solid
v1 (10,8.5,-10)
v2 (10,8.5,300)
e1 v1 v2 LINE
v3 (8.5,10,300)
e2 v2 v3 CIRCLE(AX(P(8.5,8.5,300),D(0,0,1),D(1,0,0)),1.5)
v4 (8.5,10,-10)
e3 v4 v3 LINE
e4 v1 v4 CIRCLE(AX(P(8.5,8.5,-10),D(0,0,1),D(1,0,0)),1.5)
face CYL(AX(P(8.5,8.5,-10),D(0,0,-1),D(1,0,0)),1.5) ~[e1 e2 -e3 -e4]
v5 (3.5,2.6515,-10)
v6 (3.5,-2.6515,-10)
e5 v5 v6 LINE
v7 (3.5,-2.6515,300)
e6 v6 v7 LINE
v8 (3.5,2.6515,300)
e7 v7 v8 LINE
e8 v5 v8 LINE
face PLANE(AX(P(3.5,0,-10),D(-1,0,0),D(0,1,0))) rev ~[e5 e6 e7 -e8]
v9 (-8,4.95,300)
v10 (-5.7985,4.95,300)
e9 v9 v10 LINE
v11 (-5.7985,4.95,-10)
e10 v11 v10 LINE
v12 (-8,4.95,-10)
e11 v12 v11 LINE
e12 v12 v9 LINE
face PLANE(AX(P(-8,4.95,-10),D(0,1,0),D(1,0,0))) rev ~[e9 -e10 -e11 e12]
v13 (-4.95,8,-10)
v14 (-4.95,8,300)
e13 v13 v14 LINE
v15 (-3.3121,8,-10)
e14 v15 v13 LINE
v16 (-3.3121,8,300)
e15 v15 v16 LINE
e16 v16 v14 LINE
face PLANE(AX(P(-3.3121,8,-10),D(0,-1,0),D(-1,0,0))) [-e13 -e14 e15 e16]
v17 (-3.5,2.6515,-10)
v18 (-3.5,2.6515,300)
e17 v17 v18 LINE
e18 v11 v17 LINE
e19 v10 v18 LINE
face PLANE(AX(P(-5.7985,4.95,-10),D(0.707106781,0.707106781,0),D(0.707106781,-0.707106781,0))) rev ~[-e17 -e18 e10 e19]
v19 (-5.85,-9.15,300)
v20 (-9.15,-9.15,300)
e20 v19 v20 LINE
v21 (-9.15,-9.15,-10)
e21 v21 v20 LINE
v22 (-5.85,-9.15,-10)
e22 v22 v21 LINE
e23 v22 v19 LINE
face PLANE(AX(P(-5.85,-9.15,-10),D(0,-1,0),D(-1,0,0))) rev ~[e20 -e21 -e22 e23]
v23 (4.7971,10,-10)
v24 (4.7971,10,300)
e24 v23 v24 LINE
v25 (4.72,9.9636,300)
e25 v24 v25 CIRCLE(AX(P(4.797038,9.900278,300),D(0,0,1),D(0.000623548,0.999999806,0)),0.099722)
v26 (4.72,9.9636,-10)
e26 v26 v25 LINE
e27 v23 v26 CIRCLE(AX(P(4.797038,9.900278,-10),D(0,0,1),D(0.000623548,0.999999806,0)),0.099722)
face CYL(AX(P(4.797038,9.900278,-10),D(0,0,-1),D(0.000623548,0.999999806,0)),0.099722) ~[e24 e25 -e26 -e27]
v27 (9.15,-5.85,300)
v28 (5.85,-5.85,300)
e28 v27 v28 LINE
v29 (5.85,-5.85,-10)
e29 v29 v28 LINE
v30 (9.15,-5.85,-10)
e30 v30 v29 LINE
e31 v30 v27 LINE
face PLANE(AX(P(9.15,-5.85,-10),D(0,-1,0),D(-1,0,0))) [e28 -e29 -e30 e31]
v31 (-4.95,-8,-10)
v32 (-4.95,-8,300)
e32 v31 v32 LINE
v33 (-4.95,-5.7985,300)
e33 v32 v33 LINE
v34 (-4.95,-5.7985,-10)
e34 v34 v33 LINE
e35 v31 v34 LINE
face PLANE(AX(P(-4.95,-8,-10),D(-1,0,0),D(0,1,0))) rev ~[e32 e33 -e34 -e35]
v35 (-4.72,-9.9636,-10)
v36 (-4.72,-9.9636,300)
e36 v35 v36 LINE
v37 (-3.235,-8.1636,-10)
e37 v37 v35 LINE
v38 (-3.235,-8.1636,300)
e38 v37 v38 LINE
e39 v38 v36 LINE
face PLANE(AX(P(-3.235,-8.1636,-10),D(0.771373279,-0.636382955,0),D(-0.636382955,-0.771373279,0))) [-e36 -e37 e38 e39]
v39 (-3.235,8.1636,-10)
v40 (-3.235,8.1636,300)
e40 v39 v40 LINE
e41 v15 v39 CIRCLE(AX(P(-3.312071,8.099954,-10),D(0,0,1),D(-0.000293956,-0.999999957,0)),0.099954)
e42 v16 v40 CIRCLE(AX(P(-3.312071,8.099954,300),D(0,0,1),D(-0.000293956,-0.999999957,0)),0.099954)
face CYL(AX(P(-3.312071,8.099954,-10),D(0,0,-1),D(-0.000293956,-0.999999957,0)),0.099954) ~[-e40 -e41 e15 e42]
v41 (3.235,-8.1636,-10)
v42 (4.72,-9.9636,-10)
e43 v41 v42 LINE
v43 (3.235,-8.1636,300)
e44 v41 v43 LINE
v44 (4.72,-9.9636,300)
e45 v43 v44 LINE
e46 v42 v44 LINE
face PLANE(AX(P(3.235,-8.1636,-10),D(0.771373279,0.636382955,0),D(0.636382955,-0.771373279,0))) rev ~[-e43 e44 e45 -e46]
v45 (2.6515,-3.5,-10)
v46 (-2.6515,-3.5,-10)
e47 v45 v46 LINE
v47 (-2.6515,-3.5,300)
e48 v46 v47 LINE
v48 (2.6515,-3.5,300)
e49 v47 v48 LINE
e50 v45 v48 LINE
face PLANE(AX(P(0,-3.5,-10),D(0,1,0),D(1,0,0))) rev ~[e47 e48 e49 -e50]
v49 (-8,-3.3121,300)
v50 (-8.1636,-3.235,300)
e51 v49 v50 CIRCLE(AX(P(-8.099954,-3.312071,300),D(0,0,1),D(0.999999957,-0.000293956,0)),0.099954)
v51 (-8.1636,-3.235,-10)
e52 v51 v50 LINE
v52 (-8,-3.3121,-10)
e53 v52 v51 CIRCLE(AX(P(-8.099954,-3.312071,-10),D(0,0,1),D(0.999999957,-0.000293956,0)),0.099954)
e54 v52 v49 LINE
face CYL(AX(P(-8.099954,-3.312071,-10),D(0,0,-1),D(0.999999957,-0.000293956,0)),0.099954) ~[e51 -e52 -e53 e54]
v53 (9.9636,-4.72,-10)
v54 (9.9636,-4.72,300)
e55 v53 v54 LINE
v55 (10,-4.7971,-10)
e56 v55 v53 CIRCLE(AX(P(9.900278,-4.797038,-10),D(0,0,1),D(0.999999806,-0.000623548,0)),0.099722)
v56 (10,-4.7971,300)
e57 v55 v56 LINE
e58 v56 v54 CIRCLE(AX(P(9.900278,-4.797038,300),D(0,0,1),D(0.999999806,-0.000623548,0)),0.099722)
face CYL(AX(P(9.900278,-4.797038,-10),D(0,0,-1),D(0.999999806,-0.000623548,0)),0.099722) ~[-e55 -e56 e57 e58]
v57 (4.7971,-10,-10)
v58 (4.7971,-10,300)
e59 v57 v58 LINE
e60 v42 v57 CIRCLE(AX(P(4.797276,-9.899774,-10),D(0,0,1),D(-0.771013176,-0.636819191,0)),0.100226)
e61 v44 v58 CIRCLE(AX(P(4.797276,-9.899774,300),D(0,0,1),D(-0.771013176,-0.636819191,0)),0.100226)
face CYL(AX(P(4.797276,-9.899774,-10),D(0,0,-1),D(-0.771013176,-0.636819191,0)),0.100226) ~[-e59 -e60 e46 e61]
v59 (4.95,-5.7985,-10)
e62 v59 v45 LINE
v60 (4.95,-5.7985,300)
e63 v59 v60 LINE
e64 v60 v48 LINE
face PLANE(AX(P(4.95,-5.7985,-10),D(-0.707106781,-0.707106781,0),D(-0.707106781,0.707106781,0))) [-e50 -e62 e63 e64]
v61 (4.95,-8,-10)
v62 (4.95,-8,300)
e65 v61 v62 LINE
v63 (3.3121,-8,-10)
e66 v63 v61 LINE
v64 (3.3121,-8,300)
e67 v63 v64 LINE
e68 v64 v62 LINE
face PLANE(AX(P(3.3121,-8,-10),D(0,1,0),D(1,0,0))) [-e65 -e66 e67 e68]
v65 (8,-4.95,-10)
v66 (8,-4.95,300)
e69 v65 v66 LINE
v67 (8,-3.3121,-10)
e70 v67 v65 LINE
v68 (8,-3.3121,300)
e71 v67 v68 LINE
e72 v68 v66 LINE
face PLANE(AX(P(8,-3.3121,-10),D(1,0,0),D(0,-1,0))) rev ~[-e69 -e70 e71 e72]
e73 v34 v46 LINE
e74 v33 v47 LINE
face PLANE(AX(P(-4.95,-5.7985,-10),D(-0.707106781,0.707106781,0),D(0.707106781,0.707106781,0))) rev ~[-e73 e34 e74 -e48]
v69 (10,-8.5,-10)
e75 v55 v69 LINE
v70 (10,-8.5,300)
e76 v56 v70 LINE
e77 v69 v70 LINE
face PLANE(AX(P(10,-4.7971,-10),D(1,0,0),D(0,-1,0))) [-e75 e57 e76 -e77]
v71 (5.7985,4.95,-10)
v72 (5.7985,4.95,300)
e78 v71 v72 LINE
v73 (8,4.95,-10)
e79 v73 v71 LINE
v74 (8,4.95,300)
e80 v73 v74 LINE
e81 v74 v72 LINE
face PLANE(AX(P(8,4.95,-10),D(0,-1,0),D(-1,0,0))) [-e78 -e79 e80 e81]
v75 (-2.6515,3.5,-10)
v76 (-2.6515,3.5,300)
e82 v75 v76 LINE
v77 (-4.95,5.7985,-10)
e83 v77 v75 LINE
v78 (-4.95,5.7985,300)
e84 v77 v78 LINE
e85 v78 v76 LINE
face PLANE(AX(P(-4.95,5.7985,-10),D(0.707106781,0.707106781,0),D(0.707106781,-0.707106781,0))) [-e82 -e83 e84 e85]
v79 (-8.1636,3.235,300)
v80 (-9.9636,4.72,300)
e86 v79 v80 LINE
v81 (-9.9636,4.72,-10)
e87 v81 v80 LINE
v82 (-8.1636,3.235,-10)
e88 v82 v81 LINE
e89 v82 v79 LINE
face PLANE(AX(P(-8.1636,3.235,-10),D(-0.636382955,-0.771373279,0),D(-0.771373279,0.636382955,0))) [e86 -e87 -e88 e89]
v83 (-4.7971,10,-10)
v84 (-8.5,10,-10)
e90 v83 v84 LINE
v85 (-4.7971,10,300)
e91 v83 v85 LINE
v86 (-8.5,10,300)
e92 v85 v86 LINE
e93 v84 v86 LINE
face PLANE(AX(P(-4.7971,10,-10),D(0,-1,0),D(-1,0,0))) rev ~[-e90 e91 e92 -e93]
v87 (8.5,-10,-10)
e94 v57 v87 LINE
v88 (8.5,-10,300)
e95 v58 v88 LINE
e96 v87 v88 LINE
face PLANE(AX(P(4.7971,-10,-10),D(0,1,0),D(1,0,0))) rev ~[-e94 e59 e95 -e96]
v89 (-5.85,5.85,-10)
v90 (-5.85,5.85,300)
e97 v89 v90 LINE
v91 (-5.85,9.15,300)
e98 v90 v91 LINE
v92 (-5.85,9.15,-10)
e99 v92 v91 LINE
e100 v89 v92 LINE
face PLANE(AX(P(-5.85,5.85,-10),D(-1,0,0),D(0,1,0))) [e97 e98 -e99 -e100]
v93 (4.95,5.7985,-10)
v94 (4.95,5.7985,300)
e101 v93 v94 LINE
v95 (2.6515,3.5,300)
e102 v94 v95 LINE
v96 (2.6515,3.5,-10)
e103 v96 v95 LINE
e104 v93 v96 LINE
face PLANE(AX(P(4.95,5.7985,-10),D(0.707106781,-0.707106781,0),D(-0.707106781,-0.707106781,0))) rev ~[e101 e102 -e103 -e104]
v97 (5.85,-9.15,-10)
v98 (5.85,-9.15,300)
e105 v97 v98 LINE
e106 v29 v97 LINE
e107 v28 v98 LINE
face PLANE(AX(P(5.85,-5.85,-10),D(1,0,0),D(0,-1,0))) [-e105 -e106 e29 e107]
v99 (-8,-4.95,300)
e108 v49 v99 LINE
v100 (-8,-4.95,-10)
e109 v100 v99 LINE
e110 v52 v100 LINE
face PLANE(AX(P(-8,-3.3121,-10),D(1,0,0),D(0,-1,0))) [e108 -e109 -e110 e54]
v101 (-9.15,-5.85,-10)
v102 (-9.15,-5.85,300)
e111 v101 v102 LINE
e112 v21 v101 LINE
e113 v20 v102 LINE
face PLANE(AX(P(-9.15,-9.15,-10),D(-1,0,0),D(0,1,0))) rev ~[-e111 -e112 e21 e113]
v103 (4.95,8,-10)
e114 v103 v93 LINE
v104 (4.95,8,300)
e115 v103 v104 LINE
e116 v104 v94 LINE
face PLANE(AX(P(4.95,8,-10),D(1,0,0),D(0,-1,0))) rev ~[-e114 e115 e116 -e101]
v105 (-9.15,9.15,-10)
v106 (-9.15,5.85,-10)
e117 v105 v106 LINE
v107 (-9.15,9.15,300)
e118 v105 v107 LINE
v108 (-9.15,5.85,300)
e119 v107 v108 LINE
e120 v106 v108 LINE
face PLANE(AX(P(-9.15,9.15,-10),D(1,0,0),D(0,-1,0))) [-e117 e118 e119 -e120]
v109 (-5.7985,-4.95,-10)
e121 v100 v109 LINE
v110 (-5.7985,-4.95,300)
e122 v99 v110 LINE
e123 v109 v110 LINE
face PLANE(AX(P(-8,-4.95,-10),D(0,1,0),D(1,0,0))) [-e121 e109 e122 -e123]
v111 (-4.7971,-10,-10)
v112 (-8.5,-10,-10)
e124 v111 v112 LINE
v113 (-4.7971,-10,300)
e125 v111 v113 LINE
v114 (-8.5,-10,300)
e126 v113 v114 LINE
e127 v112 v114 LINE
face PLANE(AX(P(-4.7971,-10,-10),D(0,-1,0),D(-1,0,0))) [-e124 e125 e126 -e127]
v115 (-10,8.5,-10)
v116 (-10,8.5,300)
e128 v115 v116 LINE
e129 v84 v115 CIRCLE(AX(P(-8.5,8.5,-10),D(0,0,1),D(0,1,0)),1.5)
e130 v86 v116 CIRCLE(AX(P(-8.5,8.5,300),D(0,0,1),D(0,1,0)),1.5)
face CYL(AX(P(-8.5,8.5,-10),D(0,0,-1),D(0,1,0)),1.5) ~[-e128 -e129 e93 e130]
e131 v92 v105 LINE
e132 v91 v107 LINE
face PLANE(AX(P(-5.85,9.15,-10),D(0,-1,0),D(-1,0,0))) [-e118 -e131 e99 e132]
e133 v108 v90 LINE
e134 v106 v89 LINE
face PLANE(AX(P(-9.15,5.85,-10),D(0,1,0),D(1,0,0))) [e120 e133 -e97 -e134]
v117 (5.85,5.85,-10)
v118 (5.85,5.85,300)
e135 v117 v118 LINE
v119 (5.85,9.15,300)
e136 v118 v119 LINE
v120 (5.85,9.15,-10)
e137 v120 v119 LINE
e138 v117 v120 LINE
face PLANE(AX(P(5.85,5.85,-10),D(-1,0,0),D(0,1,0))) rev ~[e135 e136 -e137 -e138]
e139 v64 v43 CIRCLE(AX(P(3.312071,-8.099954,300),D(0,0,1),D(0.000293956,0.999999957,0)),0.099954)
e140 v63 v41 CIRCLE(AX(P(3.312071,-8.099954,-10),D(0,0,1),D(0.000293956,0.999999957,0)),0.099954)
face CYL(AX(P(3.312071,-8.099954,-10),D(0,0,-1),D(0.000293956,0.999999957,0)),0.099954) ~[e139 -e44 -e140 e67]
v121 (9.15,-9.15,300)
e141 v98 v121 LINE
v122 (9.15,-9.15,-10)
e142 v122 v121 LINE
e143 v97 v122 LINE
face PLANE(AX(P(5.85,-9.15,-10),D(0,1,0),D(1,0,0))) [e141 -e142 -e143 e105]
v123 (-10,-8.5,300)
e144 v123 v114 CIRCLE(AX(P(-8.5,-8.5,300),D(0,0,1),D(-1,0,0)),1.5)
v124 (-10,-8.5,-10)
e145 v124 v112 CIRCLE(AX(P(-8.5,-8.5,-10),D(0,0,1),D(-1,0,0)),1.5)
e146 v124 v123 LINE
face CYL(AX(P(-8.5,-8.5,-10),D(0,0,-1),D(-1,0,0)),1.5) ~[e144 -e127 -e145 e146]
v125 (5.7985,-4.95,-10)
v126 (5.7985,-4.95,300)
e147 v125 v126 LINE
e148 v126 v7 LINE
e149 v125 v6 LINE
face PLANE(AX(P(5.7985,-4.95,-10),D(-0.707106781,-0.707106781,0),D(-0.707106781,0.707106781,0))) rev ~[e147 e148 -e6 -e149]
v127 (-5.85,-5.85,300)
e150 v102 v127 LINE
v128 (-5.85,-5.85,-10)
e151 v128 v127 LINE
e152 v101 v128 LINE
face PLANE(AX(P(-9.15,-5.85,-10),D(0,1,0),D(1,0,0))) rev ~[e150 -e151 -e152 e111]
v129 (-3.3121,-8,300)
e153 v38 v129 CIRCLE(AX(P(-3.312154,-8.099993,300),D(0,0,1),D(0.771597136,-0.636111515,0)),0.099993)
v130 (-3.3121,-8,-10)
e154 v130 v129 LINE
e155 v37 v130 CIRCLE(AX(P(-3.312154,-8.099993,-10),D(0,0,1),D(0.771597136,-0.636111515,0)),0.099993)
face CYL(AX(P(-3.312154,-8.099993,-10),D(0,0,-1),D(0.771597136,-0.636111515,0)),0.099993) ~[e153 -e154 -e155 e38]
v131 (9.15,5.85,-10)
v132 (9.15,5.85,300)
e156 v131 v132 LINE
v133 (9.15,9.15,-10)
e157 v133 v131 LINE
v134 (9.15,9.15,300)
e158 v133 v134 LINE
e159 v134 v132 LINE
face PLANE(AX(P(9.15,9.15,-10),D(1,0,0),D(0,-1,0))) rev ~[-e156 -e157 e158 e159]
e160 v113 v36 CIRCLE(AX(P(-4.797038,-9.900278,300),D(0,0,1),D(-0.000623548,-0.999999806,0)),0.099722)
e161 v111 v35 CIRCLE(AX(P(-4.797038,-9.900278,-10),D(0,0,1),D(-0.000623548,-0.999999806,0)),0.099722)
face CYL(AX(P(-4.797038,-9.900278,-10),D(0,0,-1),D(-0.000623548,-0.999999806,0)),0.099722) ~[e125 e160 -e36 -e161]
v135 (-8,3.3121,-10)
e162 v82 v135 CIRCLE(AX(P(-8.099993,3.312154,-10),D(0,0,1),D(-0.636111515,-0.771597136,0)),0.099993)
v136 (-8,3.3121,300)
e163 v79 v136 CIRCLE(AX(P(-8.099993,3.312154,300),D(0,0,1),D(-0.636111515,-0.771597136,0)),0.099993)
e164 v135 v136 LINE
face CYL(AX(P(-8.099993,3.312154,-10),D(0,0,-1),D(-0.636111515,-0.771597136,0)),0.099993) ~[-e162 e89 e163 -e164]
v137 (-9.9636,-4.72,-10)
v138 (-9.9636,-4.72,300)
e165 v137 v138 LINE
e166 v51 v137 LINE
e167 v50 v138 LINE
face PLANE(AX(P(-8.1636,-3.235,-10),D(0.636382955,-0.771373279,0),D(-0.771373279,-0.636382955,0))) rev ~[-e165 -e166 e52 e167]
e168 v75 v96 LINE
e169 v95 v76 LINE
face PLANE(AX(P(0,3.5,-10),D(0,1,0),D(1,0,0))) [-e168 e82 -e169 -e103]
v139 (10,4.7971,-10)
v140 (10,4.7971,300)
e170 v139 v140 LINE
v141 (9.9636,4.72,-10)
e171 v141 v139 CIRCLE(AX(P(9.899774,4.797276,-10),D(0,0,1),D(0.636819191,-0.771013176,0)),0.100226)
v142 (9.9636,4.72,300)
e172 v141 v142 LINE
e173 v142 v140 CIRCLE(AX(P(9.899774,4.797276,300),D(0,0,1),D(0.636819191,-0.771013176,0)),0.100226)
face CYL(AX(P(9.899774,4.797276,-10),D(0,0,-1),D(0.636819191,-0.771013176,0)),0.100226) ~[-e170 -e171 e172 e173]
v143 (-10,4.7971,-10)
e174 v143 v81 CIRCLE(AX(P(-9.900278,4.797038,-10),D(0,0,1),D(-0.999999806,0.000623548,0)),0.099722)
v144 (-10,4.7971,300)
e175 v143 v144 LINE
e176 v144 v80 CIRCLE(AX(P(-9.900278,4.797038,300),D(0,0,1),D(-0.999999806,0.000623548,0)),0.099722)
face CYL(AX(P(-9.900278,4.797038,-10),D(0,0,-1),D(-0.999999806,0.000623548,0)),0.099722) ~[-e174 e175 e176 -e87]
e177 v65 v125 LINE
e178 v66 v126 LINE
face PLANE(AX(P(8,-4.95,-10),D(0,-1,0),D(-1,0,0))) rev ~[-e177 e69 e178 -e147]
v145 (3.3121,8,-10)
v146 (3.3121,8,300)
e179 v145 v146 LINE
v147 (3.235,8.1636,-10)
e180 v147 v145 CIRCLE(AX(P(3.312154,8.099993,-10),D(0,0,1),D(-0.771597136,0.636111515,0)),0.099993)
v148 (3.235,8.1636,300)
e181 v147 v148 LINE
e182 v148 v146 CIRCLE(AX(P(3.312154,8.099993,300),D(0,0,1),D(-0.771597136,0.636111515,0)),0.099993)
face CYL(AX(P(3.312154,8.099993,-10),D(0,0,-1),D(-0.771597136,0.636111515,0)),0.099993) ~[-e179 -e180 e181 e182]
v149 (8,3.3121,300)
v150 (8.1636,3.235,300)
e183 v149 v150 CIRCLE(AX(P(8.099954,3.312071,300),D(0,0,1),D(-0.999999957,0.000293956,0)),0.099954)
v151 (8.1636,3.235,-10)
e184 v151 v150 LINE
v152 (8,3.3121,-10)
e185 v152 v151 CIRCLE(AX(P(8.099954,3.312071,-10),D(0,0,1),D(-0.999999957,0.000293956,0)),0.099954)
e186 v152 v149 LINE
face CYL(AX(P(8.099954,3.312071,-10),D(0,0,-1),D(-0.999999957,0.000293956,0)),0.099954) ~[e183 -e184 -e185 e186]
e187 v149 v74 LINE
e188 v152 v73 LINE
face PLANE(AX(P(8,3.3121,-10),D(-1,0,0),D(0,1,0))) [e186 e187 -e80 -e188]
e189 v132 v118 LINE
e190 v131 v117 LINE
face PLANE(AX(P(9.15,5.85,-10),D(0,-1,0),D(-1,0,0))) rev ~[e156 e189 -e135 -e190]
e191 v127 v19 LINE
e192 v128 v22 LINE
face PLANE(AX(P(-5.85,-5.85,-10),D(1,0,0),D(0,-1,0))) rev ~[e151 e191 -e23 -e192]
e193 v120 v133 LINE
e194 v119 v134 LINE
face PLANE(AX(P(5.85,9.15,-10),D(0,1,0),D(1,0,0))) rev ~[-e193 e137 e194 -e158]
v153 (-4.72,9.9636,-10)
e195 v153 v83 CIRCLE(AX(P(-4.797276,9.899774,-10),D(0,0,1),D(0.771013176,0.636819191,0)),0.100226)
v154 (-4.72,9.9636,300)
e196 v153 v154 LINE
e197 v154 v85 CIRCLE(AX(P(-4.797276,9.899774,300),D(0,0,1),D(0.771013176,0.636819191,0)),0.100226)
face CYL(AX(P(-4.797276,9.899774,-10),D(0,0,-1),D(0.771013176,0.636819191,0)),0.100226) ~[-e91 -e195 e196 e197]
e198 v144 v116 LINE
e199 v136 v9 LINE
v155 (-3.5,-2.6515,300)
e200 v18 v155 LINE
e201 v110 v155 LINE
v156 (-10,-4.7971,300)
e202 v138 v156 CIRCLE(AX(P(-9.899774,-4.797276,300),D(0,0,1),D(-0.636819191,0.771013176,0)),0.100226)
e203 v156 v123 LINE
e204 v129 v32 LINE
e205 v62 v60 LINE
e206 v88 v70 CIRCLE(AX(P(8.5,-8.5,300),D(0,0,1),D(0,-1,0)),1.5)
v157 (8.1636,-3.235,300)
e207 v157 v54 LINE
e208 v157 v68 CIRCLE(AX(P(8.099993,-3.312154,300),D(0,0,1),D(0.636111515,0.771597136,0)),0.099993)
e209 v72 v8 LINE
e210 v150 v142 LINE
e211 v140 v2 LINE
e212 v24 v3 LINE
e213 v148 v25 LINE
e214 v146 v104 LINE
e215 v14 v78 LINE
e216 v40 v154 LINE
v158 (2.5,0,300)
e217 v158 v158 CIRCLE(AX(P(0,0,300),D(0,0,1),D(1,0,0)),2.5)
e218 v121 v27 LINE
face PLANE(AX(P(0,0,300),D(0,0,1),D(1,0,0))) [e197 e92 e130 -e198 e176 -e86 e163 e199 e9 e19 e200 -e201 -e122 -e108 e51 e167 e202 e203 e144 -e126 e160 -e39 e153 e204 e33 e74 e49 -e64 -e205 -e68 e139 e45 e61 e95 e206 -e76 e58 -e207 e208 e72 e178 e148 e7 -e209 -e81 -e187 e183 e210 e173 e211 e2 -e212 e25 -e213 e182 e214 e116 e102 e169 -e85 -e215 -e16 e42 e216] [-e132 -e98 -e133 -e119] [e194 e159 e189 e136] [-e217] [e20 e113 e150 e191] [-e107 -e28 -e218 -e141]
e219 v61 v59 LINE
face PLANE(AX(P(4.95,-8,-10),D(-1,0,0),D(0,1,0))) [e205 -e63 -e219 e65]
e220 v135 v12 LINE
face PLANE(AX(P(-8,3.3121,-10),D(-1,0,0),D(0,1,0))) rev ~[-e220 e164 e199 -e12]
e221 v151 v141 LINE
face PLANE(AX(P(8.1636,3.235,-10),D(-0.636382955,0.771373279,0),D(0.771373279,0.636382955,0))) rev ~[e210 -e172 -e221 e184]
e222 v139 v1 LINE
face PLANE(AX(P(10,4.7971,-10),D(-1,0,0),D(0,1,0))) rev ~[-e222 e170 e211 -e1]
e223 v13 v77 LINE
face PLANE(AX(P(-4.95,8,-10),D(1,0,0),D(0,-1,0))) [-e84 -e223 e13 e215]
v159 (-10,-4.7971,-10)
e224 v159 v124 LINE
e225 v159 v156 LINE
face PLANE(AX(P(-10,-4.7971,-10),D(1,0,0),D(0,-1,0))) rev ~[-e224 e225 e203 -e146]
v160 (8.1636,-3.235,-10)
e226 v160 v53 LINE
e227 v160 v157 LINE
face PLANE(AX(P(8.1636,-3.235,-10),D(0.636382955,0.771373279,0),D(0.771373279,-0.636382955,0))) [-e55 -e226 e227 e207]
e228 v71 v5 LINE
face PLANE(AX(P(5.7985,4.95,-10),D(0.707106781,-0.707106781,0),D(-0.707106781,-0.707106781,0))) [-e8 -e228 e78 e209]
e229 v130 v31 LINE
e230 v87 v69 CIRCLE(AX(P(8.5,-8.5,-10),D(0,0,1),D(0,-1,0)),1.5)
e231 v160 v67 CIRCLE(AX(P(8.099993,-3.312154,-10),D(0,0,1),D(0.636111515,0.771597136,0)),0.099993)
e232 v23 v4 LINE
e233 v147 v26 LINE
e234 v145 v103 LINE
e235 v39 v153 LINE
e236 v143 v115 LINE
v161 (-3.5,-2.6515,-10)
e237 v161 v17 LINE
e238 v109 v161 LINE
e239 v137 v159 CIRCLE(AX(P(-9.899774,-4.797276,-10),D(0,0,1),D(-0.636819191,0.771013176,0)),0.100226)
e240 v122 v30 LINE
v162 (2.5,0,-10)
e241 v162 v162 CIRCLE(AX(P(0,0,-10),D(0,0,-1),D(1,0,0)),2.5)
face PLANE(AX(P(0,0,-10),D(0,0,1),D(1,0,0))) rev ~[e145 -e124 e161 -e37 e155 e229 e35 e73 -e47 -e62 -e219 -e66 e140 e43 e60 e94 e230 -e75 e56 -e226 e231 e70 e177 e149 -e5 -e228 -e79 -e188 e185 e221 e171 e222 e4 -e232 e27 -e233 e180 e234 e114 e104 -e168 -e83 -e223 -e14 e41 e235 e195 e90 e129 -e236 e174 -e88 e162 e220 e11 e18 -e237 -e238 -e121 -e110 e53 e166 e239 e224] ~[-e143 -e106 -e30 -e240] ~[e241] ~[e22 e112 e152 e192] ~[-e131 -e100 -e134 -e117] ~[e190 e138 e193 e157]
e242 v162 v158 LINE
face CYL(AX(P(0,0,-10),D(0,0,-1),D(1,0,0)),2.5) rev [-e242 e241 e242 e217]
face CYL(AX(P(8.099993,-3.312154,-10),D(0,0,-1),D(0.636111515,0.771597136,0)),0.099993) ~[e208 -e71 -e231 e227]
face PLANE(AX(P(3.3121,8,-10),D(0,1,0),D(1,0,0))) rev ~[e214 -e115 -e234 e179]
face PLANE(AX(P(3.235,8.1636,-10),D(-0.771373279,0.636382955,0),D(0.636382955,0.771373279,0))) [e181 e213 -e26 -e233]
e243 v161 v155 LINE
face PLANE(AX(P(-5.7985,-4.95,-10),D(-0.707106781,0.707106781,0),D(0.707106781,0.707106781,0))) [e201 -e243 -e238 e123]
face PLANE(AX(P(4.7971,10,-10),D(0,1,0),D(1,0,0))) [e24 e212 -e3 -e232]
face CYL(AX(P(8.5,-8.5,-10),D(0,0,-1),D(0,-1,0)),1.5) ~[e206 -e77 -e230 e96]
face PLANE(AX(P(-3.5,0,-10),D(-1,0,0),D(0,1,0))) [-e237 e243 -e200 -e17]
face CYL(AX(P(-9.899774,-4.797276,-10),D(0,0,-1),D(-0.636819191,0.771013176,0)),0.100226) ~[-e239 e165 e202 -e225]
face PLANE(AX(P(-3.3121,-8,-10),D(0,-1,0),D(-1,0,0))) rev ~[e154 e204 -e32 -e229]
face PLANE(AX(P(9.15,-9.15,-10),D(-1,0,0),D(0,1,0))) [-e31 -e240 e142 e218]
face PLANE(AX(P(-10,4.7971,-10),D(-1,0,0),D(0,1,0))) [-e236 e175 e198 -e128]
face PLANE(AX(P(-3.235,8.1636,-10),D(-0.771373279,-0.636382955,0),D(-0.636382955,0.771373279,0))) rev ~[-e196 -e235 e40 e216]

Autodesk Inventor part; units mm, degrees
ref_plane "Начальная плоскость" through (0, 0, -10) normal (0, 0, 1) x (1, 0, 0)
ref_plane "Конечная плоскость" through (0, 0, 300) normal (0, 0, 1) x (1, 0, 0)
sketch "Эскиз" plane through (0, 0, 0) normal (0, 0, 1) x (1, 0, 0)
  line L0 (-14.4349, 0) -> (14.4349, 0) projected
  line L1 (0, -14) -> (0, 14) projected
  line L2 (0, 0) -> (7.5, 7.5) construction
  circle A0 centre (7.5, 7.5) radius 1.65 construction
  line L3 (5.85, 9.15) -> (9.15, 9.15)
  line L4 (9.15, 9.15) -> (9.15, 5.85)
  line L5 (9.15, 5.85) -> (5.85, 5.85)
  line L6 (5.85, 5.85) -> (5.85, 9.15)
  line L7 (3.235, 8.1636) -> (4.72, 9.9636)
  line L8 (4.7971, 10) -> (8.5, 10)
  line L9 (3.3121, 8) -> (4.95, 8)
  line L10 (4.95, 8) -> (4.95, 5.7985)
  line L11 (4.95, 5.7985) -> (2.6515, 3.5)
  line L12 (0, 3.5) -> (2.6515, 3.5)
  circle A1 centre (0, 0) radius 2.5
  line L13 (8.1636, 3.235) -> (9.9636, 4.72)
  line L14 (10, 4.7971) -> (10, 8.5)
  line L15 (8, 3.3121) -> (8, 4.95)
  line L16 (8, 4.95) -> (5.7985, 4.95)
  line L17 (5.7985, 4.95) -> (3.5, 2.6515)
  line L18 (3.5, 0) -> (3.5, 2.6515)
  arc A2 (10, 8.5) -> (8.5, 10) centre (8.5, 8.5) ccw
  line L19 (0, 0) -> (-7.5, 7.5) construction
  circle A3 centre (-7.5, 7.5) radius 1.65 construction
  line L20 (-5.85, 9.15) -> (-9.15, 9.15)
  line L21 (-9.15, 9.15) -> (-9.15, 5.85)
  line L22 (-9.15, 5.85) -> (-5.85, 5.85)
  line L23 (-5.85, 5.85) -> (-5.85, 9.15)
  line L24 (-3.235, 8.1636) -> (-4.72, 9.9636)
  line L25 (-4.7971, 10) -> (-8.5, 10)
  line L26 (-3.3121, 8) -> (-4.95, 8)
  line L27 (-4.95, 8) -> (-4.95, 5.7985)
  line L28 (-4.95, 5.7985) -> (-2.6515, 3.5)
  line L29 (0, 3.5) -> (-2.6515, 3.5)
  line L30 (-3.5, 0) -> (-3.5, 2.6515)
  line L31 (-5.7985, 4.95) -> (-3.5, 2.6515)
  line L32 (-8, 4.95) -> (-5.7985, 4.95)
  line L33 (-8, 3.3121) -> (-8, 4.95)
  line L34 (-8.1636, 3.235) -> (-9.9636, 4.72)
  line L35 (-10, 4.7971) -> (-10, 8.5)
  arc A4 (-8.5, 10) -> (-10, 8.5) centre (-8.5, 8.5) ccw
  line L36 (0, 14) -> (0, -14)
  line L37 (0, 0) -> (7.5, -7.5) construction
  circle A5 centre (7.5, -7.5) radius 1.65 construction
  line L38 (5.85, -9.15) -> (9.15, -9.15)
  line L39 (9.15, -9.15) -> (9.15, -5.85)
  line L40 (9.15, -5.85) -> (5.85, -5.85)
  line L41 (5.85, -5.85) -> (5.85, -9.15)
  line L42 (3.235, -8.1636) -> (4.72, -9.9636)
  line L43 (4.7971, -10) -> (8.5, -10)
  line L44 (3.3121, -8) -> (4.95, -8)
  line L45 (4.95, -8) -> (4.95, -5.7985)
  line L46 (4.95, -5.7985) -> (2.6515, -3.5)
  line L47 (0, -3.5) -> (2.6515, -3.5)
  line L48 (3.5, 0) -> (3.5, -2.6515)
  line L49 (5.7985, -4.95) -> (3.5, -2.6515)
  line L50 (8, -4.95) -> (5.7985, -4.95)
  line L51 (8, -3.3121) -> (8, -4.95)
  line L52 (8.1636, -3.235) -> (9.9636, -4.72)
  line L53 (10, -4.7971) -> (10, -8.5)
  arc A6 (8.5, -10) -> (10, -8.5) centre (8.5, -8.5) ccw
  line L54 (0, 0) -> (-7.5, -7.5) construction
  line L55 (-4.95, -8) -> (-4.95, -5.7985)
  line L56 (-3.3121, -8) -> (-4.95, -8)
  line L57 (-5.7985, -4.95) -> (-3.5, -2.6515)
  line L58 (-4.95, -5.7985) -> (-2.6515, -3.5)
  line L59 (-3.5, 0) -> (-3.5, -2.6515)
  line L60 (0, -3.5) -> (-2.6515, -3.5)
  circle A7 centre (-7.5, -7.5) radius 1.65 construction
  line L61 (-5.85, -5.85) -> (-5.85, -9.15)
  line L62 (-5.85, -9.15) -> (-9.15, -9.15)
  line L63 (-9.15, -9.15) -> (-9.15, -5.85)
  line L64 (-9.15, -5.85) -> (-5.85, -5.85)
  line L65 (-3.235, -8.1636) -> (-4.72, -9.9636)
  line L66 (-8, -4.95) -> (-5.7985, -4.95)
  line L67 (-8, -3.3121) -> (-8, -4.95)
  line L68 (-8.1636, -3.235) -> (-9.9636, -4.72)
  line L69 (-4.7971, -10) -> (-8.5, -10)
  line L70 (-10, -4.7971) -> (-10, -8.5)
  arc A8 (-10, -8.5) -> (-8.5, -10) centre (-8.5, -8.5) ccw
  arc A9 (3.235, 8.1636) -> (3.3121, 8) centre (3.3121, 8.1) ccw
  arc A10 (4.7971, 10) -> (4.72, 9.9636) centre (4.7971, 9.9) ccw
  arc A11 (8, 3.3121) -> (8.1636, 3.235) centre (8.1, 3.3121) ccw
  arc A12 (9.9636, 4.72) -> (10, 4.7971) centre (9.9, 4.7971) ccw
  arc A13 (-3.3121, 8) -> (-3.235, 8.1636) centre (-3.3121, 8.1) ccw
  arc A14 (-4.72, 9.9636) -> (-4.7971, 10) centre (-4.7971, 9.9) ccw
  arc A15 (-8.1636, 3.235) -> (-8, 3.3121) centre (-8.1, 3.3121) ccw
  arc A16 (-10, 4.7971) -> (-9.9636, 4.72) centre (-9.9, 4.7971) ccw
  arc A17 (-8, -3.3121) -> (-8.1636, -3.235) centre (-8.1, -3.3121) ccw
  arc A18 (-9.9636, -4.72) -> (-10, -4.7971) centre (-9.9, -4.7971) ccw
  arc A19 (-3.235, -8.1636) -> (-3.3121, -8) centre (-3.3121, -8.1) ccw
  arc A20 (-4.7971, -10) -> (-4.72, -9.9636) centre (-4.7971, -9.9) ccw
  arc A21 (4.72, -9.9636) -> (4.7971, -10) centre (4.7971, -9.9) ccw
  arc A22 (3.3121, -8) -> (3.235, -8.1636) centre (3.3121, -8.1) ccw
  arc A23 (8.1636, -3.235) -> (8, -3.3121) centre (8.1, -3.3121) ccw
  arc A24 (10, -4.7971) -> (9.9636, -4.72) centre (9.9, -4.7971) ccw
  point P0 (3.1, 8)
  point P1 (4.75, 10)
  point P2 (7.5, 9.15)
  point P3 (8, 3.1)
  point P4 (10, 4.75)
  point P5 (7.5, 5.85)
  point P6 (9.15, 7.5)
  point P7 (-3.1, 8)
  point P8 (-4.75, 10)
  point P9 (-7.5, 9.15)
  point P10 (-8, 3.1)
  point P11 (-10, 4.75)
  point P12 (-7.5, 5.85)
  point P13 (-9.15, 7.5)
  point P14 (3.1, -8)
  point P15 (4.75, -10)
  point P16 (7.5, -9.15)
  point P17 (8, -3.1)
  point P18 (10, -4.75)
  point P19 (7.5, -5.85)
  point P20 (9.15, -7.5)
  point P21 (-3.1, -8)
  point P22 (-7.5, -5.85)
  point P23 (-7.5, -9.15)
  point P24 (-9.15, -7.5)
  point P25 (-4.75, -10)
  point P26 (-8, -3.1)
  point P27 (-10, -4.75)
  dimension "d0" = 45
  dimension "d1" = 3.3
  dimension "d2" = 1.5
  dimension "d3" = 1.2
  dimension "d4" = 5
  dimension "d5" = 6.5
  dimension "d6" = 15
  dimension "d7" = 20
  dimension "d8" = 9.9
  dimension "d9" = 9.5
  dimension "d10" = 6.2
  dimension "d11" = 2
  dimension "d18" = 0.1
  dimension "d19" = 0.1
extrude "Тело" add sketch "Эскиз" along normal up to surface (310 mm away) from surface at -10 contours A1 L1 L12 L11 L10 L9 A9 L7 A10 L8 A2 L14 A12 L13 A11 L15 L16 L17 L18 L0 | L0 L48 L49 L50 L51 A23 L52 A24 L53 A6 L43 A21 L42 A22 L44 L45 L46 L47 L1 A1 | A1 L0 L30 L31 L32 L33 A15 L34 A16 L35 A4 L25 A14 L24 A13 L26 L27 L28 L29 L1 | L1 L60 L58 L55 L56 A19 L65 A20 L69 A8 L70 A18 L68 A17 L67 L66 L57 L59 L0 A1
sketch "Эскиз2" plane through (0, 0, 0) normal (0, 0, 1) x (1, 0, 0)
  line L0 (0, 0) -> (10, 0)
ref_plane "РабПлоскость3" through (0, 0, 0) normal (0, -1, 0) x (1, 0, 0)
sketch "Эскиз3" plane through (0, 0, 0) normal (0, -1, 0) x (1, 0, 0)
  line L0 (-2, -10) -> (12, -10)
  line L1 (-2, 300) -> (12, 300)
  dimension "d25" = 310
ref_plane "РабПлоскость6" through (50, 0, -10) normal (0, 0, -1) x (-1, 0, 0)
split "Разделение3" plane through (50, 0, -10) removes the side toward (0, 0, -1)
ref_plane "РабПлоскость7" through (0, 0, 300) normal (0, 0, 1) x (1, 0, 0)
split "Разделение4" plane through (0, 0, 300) removes the side toward (0, 0, 1)
properties part number "короткая палка"
